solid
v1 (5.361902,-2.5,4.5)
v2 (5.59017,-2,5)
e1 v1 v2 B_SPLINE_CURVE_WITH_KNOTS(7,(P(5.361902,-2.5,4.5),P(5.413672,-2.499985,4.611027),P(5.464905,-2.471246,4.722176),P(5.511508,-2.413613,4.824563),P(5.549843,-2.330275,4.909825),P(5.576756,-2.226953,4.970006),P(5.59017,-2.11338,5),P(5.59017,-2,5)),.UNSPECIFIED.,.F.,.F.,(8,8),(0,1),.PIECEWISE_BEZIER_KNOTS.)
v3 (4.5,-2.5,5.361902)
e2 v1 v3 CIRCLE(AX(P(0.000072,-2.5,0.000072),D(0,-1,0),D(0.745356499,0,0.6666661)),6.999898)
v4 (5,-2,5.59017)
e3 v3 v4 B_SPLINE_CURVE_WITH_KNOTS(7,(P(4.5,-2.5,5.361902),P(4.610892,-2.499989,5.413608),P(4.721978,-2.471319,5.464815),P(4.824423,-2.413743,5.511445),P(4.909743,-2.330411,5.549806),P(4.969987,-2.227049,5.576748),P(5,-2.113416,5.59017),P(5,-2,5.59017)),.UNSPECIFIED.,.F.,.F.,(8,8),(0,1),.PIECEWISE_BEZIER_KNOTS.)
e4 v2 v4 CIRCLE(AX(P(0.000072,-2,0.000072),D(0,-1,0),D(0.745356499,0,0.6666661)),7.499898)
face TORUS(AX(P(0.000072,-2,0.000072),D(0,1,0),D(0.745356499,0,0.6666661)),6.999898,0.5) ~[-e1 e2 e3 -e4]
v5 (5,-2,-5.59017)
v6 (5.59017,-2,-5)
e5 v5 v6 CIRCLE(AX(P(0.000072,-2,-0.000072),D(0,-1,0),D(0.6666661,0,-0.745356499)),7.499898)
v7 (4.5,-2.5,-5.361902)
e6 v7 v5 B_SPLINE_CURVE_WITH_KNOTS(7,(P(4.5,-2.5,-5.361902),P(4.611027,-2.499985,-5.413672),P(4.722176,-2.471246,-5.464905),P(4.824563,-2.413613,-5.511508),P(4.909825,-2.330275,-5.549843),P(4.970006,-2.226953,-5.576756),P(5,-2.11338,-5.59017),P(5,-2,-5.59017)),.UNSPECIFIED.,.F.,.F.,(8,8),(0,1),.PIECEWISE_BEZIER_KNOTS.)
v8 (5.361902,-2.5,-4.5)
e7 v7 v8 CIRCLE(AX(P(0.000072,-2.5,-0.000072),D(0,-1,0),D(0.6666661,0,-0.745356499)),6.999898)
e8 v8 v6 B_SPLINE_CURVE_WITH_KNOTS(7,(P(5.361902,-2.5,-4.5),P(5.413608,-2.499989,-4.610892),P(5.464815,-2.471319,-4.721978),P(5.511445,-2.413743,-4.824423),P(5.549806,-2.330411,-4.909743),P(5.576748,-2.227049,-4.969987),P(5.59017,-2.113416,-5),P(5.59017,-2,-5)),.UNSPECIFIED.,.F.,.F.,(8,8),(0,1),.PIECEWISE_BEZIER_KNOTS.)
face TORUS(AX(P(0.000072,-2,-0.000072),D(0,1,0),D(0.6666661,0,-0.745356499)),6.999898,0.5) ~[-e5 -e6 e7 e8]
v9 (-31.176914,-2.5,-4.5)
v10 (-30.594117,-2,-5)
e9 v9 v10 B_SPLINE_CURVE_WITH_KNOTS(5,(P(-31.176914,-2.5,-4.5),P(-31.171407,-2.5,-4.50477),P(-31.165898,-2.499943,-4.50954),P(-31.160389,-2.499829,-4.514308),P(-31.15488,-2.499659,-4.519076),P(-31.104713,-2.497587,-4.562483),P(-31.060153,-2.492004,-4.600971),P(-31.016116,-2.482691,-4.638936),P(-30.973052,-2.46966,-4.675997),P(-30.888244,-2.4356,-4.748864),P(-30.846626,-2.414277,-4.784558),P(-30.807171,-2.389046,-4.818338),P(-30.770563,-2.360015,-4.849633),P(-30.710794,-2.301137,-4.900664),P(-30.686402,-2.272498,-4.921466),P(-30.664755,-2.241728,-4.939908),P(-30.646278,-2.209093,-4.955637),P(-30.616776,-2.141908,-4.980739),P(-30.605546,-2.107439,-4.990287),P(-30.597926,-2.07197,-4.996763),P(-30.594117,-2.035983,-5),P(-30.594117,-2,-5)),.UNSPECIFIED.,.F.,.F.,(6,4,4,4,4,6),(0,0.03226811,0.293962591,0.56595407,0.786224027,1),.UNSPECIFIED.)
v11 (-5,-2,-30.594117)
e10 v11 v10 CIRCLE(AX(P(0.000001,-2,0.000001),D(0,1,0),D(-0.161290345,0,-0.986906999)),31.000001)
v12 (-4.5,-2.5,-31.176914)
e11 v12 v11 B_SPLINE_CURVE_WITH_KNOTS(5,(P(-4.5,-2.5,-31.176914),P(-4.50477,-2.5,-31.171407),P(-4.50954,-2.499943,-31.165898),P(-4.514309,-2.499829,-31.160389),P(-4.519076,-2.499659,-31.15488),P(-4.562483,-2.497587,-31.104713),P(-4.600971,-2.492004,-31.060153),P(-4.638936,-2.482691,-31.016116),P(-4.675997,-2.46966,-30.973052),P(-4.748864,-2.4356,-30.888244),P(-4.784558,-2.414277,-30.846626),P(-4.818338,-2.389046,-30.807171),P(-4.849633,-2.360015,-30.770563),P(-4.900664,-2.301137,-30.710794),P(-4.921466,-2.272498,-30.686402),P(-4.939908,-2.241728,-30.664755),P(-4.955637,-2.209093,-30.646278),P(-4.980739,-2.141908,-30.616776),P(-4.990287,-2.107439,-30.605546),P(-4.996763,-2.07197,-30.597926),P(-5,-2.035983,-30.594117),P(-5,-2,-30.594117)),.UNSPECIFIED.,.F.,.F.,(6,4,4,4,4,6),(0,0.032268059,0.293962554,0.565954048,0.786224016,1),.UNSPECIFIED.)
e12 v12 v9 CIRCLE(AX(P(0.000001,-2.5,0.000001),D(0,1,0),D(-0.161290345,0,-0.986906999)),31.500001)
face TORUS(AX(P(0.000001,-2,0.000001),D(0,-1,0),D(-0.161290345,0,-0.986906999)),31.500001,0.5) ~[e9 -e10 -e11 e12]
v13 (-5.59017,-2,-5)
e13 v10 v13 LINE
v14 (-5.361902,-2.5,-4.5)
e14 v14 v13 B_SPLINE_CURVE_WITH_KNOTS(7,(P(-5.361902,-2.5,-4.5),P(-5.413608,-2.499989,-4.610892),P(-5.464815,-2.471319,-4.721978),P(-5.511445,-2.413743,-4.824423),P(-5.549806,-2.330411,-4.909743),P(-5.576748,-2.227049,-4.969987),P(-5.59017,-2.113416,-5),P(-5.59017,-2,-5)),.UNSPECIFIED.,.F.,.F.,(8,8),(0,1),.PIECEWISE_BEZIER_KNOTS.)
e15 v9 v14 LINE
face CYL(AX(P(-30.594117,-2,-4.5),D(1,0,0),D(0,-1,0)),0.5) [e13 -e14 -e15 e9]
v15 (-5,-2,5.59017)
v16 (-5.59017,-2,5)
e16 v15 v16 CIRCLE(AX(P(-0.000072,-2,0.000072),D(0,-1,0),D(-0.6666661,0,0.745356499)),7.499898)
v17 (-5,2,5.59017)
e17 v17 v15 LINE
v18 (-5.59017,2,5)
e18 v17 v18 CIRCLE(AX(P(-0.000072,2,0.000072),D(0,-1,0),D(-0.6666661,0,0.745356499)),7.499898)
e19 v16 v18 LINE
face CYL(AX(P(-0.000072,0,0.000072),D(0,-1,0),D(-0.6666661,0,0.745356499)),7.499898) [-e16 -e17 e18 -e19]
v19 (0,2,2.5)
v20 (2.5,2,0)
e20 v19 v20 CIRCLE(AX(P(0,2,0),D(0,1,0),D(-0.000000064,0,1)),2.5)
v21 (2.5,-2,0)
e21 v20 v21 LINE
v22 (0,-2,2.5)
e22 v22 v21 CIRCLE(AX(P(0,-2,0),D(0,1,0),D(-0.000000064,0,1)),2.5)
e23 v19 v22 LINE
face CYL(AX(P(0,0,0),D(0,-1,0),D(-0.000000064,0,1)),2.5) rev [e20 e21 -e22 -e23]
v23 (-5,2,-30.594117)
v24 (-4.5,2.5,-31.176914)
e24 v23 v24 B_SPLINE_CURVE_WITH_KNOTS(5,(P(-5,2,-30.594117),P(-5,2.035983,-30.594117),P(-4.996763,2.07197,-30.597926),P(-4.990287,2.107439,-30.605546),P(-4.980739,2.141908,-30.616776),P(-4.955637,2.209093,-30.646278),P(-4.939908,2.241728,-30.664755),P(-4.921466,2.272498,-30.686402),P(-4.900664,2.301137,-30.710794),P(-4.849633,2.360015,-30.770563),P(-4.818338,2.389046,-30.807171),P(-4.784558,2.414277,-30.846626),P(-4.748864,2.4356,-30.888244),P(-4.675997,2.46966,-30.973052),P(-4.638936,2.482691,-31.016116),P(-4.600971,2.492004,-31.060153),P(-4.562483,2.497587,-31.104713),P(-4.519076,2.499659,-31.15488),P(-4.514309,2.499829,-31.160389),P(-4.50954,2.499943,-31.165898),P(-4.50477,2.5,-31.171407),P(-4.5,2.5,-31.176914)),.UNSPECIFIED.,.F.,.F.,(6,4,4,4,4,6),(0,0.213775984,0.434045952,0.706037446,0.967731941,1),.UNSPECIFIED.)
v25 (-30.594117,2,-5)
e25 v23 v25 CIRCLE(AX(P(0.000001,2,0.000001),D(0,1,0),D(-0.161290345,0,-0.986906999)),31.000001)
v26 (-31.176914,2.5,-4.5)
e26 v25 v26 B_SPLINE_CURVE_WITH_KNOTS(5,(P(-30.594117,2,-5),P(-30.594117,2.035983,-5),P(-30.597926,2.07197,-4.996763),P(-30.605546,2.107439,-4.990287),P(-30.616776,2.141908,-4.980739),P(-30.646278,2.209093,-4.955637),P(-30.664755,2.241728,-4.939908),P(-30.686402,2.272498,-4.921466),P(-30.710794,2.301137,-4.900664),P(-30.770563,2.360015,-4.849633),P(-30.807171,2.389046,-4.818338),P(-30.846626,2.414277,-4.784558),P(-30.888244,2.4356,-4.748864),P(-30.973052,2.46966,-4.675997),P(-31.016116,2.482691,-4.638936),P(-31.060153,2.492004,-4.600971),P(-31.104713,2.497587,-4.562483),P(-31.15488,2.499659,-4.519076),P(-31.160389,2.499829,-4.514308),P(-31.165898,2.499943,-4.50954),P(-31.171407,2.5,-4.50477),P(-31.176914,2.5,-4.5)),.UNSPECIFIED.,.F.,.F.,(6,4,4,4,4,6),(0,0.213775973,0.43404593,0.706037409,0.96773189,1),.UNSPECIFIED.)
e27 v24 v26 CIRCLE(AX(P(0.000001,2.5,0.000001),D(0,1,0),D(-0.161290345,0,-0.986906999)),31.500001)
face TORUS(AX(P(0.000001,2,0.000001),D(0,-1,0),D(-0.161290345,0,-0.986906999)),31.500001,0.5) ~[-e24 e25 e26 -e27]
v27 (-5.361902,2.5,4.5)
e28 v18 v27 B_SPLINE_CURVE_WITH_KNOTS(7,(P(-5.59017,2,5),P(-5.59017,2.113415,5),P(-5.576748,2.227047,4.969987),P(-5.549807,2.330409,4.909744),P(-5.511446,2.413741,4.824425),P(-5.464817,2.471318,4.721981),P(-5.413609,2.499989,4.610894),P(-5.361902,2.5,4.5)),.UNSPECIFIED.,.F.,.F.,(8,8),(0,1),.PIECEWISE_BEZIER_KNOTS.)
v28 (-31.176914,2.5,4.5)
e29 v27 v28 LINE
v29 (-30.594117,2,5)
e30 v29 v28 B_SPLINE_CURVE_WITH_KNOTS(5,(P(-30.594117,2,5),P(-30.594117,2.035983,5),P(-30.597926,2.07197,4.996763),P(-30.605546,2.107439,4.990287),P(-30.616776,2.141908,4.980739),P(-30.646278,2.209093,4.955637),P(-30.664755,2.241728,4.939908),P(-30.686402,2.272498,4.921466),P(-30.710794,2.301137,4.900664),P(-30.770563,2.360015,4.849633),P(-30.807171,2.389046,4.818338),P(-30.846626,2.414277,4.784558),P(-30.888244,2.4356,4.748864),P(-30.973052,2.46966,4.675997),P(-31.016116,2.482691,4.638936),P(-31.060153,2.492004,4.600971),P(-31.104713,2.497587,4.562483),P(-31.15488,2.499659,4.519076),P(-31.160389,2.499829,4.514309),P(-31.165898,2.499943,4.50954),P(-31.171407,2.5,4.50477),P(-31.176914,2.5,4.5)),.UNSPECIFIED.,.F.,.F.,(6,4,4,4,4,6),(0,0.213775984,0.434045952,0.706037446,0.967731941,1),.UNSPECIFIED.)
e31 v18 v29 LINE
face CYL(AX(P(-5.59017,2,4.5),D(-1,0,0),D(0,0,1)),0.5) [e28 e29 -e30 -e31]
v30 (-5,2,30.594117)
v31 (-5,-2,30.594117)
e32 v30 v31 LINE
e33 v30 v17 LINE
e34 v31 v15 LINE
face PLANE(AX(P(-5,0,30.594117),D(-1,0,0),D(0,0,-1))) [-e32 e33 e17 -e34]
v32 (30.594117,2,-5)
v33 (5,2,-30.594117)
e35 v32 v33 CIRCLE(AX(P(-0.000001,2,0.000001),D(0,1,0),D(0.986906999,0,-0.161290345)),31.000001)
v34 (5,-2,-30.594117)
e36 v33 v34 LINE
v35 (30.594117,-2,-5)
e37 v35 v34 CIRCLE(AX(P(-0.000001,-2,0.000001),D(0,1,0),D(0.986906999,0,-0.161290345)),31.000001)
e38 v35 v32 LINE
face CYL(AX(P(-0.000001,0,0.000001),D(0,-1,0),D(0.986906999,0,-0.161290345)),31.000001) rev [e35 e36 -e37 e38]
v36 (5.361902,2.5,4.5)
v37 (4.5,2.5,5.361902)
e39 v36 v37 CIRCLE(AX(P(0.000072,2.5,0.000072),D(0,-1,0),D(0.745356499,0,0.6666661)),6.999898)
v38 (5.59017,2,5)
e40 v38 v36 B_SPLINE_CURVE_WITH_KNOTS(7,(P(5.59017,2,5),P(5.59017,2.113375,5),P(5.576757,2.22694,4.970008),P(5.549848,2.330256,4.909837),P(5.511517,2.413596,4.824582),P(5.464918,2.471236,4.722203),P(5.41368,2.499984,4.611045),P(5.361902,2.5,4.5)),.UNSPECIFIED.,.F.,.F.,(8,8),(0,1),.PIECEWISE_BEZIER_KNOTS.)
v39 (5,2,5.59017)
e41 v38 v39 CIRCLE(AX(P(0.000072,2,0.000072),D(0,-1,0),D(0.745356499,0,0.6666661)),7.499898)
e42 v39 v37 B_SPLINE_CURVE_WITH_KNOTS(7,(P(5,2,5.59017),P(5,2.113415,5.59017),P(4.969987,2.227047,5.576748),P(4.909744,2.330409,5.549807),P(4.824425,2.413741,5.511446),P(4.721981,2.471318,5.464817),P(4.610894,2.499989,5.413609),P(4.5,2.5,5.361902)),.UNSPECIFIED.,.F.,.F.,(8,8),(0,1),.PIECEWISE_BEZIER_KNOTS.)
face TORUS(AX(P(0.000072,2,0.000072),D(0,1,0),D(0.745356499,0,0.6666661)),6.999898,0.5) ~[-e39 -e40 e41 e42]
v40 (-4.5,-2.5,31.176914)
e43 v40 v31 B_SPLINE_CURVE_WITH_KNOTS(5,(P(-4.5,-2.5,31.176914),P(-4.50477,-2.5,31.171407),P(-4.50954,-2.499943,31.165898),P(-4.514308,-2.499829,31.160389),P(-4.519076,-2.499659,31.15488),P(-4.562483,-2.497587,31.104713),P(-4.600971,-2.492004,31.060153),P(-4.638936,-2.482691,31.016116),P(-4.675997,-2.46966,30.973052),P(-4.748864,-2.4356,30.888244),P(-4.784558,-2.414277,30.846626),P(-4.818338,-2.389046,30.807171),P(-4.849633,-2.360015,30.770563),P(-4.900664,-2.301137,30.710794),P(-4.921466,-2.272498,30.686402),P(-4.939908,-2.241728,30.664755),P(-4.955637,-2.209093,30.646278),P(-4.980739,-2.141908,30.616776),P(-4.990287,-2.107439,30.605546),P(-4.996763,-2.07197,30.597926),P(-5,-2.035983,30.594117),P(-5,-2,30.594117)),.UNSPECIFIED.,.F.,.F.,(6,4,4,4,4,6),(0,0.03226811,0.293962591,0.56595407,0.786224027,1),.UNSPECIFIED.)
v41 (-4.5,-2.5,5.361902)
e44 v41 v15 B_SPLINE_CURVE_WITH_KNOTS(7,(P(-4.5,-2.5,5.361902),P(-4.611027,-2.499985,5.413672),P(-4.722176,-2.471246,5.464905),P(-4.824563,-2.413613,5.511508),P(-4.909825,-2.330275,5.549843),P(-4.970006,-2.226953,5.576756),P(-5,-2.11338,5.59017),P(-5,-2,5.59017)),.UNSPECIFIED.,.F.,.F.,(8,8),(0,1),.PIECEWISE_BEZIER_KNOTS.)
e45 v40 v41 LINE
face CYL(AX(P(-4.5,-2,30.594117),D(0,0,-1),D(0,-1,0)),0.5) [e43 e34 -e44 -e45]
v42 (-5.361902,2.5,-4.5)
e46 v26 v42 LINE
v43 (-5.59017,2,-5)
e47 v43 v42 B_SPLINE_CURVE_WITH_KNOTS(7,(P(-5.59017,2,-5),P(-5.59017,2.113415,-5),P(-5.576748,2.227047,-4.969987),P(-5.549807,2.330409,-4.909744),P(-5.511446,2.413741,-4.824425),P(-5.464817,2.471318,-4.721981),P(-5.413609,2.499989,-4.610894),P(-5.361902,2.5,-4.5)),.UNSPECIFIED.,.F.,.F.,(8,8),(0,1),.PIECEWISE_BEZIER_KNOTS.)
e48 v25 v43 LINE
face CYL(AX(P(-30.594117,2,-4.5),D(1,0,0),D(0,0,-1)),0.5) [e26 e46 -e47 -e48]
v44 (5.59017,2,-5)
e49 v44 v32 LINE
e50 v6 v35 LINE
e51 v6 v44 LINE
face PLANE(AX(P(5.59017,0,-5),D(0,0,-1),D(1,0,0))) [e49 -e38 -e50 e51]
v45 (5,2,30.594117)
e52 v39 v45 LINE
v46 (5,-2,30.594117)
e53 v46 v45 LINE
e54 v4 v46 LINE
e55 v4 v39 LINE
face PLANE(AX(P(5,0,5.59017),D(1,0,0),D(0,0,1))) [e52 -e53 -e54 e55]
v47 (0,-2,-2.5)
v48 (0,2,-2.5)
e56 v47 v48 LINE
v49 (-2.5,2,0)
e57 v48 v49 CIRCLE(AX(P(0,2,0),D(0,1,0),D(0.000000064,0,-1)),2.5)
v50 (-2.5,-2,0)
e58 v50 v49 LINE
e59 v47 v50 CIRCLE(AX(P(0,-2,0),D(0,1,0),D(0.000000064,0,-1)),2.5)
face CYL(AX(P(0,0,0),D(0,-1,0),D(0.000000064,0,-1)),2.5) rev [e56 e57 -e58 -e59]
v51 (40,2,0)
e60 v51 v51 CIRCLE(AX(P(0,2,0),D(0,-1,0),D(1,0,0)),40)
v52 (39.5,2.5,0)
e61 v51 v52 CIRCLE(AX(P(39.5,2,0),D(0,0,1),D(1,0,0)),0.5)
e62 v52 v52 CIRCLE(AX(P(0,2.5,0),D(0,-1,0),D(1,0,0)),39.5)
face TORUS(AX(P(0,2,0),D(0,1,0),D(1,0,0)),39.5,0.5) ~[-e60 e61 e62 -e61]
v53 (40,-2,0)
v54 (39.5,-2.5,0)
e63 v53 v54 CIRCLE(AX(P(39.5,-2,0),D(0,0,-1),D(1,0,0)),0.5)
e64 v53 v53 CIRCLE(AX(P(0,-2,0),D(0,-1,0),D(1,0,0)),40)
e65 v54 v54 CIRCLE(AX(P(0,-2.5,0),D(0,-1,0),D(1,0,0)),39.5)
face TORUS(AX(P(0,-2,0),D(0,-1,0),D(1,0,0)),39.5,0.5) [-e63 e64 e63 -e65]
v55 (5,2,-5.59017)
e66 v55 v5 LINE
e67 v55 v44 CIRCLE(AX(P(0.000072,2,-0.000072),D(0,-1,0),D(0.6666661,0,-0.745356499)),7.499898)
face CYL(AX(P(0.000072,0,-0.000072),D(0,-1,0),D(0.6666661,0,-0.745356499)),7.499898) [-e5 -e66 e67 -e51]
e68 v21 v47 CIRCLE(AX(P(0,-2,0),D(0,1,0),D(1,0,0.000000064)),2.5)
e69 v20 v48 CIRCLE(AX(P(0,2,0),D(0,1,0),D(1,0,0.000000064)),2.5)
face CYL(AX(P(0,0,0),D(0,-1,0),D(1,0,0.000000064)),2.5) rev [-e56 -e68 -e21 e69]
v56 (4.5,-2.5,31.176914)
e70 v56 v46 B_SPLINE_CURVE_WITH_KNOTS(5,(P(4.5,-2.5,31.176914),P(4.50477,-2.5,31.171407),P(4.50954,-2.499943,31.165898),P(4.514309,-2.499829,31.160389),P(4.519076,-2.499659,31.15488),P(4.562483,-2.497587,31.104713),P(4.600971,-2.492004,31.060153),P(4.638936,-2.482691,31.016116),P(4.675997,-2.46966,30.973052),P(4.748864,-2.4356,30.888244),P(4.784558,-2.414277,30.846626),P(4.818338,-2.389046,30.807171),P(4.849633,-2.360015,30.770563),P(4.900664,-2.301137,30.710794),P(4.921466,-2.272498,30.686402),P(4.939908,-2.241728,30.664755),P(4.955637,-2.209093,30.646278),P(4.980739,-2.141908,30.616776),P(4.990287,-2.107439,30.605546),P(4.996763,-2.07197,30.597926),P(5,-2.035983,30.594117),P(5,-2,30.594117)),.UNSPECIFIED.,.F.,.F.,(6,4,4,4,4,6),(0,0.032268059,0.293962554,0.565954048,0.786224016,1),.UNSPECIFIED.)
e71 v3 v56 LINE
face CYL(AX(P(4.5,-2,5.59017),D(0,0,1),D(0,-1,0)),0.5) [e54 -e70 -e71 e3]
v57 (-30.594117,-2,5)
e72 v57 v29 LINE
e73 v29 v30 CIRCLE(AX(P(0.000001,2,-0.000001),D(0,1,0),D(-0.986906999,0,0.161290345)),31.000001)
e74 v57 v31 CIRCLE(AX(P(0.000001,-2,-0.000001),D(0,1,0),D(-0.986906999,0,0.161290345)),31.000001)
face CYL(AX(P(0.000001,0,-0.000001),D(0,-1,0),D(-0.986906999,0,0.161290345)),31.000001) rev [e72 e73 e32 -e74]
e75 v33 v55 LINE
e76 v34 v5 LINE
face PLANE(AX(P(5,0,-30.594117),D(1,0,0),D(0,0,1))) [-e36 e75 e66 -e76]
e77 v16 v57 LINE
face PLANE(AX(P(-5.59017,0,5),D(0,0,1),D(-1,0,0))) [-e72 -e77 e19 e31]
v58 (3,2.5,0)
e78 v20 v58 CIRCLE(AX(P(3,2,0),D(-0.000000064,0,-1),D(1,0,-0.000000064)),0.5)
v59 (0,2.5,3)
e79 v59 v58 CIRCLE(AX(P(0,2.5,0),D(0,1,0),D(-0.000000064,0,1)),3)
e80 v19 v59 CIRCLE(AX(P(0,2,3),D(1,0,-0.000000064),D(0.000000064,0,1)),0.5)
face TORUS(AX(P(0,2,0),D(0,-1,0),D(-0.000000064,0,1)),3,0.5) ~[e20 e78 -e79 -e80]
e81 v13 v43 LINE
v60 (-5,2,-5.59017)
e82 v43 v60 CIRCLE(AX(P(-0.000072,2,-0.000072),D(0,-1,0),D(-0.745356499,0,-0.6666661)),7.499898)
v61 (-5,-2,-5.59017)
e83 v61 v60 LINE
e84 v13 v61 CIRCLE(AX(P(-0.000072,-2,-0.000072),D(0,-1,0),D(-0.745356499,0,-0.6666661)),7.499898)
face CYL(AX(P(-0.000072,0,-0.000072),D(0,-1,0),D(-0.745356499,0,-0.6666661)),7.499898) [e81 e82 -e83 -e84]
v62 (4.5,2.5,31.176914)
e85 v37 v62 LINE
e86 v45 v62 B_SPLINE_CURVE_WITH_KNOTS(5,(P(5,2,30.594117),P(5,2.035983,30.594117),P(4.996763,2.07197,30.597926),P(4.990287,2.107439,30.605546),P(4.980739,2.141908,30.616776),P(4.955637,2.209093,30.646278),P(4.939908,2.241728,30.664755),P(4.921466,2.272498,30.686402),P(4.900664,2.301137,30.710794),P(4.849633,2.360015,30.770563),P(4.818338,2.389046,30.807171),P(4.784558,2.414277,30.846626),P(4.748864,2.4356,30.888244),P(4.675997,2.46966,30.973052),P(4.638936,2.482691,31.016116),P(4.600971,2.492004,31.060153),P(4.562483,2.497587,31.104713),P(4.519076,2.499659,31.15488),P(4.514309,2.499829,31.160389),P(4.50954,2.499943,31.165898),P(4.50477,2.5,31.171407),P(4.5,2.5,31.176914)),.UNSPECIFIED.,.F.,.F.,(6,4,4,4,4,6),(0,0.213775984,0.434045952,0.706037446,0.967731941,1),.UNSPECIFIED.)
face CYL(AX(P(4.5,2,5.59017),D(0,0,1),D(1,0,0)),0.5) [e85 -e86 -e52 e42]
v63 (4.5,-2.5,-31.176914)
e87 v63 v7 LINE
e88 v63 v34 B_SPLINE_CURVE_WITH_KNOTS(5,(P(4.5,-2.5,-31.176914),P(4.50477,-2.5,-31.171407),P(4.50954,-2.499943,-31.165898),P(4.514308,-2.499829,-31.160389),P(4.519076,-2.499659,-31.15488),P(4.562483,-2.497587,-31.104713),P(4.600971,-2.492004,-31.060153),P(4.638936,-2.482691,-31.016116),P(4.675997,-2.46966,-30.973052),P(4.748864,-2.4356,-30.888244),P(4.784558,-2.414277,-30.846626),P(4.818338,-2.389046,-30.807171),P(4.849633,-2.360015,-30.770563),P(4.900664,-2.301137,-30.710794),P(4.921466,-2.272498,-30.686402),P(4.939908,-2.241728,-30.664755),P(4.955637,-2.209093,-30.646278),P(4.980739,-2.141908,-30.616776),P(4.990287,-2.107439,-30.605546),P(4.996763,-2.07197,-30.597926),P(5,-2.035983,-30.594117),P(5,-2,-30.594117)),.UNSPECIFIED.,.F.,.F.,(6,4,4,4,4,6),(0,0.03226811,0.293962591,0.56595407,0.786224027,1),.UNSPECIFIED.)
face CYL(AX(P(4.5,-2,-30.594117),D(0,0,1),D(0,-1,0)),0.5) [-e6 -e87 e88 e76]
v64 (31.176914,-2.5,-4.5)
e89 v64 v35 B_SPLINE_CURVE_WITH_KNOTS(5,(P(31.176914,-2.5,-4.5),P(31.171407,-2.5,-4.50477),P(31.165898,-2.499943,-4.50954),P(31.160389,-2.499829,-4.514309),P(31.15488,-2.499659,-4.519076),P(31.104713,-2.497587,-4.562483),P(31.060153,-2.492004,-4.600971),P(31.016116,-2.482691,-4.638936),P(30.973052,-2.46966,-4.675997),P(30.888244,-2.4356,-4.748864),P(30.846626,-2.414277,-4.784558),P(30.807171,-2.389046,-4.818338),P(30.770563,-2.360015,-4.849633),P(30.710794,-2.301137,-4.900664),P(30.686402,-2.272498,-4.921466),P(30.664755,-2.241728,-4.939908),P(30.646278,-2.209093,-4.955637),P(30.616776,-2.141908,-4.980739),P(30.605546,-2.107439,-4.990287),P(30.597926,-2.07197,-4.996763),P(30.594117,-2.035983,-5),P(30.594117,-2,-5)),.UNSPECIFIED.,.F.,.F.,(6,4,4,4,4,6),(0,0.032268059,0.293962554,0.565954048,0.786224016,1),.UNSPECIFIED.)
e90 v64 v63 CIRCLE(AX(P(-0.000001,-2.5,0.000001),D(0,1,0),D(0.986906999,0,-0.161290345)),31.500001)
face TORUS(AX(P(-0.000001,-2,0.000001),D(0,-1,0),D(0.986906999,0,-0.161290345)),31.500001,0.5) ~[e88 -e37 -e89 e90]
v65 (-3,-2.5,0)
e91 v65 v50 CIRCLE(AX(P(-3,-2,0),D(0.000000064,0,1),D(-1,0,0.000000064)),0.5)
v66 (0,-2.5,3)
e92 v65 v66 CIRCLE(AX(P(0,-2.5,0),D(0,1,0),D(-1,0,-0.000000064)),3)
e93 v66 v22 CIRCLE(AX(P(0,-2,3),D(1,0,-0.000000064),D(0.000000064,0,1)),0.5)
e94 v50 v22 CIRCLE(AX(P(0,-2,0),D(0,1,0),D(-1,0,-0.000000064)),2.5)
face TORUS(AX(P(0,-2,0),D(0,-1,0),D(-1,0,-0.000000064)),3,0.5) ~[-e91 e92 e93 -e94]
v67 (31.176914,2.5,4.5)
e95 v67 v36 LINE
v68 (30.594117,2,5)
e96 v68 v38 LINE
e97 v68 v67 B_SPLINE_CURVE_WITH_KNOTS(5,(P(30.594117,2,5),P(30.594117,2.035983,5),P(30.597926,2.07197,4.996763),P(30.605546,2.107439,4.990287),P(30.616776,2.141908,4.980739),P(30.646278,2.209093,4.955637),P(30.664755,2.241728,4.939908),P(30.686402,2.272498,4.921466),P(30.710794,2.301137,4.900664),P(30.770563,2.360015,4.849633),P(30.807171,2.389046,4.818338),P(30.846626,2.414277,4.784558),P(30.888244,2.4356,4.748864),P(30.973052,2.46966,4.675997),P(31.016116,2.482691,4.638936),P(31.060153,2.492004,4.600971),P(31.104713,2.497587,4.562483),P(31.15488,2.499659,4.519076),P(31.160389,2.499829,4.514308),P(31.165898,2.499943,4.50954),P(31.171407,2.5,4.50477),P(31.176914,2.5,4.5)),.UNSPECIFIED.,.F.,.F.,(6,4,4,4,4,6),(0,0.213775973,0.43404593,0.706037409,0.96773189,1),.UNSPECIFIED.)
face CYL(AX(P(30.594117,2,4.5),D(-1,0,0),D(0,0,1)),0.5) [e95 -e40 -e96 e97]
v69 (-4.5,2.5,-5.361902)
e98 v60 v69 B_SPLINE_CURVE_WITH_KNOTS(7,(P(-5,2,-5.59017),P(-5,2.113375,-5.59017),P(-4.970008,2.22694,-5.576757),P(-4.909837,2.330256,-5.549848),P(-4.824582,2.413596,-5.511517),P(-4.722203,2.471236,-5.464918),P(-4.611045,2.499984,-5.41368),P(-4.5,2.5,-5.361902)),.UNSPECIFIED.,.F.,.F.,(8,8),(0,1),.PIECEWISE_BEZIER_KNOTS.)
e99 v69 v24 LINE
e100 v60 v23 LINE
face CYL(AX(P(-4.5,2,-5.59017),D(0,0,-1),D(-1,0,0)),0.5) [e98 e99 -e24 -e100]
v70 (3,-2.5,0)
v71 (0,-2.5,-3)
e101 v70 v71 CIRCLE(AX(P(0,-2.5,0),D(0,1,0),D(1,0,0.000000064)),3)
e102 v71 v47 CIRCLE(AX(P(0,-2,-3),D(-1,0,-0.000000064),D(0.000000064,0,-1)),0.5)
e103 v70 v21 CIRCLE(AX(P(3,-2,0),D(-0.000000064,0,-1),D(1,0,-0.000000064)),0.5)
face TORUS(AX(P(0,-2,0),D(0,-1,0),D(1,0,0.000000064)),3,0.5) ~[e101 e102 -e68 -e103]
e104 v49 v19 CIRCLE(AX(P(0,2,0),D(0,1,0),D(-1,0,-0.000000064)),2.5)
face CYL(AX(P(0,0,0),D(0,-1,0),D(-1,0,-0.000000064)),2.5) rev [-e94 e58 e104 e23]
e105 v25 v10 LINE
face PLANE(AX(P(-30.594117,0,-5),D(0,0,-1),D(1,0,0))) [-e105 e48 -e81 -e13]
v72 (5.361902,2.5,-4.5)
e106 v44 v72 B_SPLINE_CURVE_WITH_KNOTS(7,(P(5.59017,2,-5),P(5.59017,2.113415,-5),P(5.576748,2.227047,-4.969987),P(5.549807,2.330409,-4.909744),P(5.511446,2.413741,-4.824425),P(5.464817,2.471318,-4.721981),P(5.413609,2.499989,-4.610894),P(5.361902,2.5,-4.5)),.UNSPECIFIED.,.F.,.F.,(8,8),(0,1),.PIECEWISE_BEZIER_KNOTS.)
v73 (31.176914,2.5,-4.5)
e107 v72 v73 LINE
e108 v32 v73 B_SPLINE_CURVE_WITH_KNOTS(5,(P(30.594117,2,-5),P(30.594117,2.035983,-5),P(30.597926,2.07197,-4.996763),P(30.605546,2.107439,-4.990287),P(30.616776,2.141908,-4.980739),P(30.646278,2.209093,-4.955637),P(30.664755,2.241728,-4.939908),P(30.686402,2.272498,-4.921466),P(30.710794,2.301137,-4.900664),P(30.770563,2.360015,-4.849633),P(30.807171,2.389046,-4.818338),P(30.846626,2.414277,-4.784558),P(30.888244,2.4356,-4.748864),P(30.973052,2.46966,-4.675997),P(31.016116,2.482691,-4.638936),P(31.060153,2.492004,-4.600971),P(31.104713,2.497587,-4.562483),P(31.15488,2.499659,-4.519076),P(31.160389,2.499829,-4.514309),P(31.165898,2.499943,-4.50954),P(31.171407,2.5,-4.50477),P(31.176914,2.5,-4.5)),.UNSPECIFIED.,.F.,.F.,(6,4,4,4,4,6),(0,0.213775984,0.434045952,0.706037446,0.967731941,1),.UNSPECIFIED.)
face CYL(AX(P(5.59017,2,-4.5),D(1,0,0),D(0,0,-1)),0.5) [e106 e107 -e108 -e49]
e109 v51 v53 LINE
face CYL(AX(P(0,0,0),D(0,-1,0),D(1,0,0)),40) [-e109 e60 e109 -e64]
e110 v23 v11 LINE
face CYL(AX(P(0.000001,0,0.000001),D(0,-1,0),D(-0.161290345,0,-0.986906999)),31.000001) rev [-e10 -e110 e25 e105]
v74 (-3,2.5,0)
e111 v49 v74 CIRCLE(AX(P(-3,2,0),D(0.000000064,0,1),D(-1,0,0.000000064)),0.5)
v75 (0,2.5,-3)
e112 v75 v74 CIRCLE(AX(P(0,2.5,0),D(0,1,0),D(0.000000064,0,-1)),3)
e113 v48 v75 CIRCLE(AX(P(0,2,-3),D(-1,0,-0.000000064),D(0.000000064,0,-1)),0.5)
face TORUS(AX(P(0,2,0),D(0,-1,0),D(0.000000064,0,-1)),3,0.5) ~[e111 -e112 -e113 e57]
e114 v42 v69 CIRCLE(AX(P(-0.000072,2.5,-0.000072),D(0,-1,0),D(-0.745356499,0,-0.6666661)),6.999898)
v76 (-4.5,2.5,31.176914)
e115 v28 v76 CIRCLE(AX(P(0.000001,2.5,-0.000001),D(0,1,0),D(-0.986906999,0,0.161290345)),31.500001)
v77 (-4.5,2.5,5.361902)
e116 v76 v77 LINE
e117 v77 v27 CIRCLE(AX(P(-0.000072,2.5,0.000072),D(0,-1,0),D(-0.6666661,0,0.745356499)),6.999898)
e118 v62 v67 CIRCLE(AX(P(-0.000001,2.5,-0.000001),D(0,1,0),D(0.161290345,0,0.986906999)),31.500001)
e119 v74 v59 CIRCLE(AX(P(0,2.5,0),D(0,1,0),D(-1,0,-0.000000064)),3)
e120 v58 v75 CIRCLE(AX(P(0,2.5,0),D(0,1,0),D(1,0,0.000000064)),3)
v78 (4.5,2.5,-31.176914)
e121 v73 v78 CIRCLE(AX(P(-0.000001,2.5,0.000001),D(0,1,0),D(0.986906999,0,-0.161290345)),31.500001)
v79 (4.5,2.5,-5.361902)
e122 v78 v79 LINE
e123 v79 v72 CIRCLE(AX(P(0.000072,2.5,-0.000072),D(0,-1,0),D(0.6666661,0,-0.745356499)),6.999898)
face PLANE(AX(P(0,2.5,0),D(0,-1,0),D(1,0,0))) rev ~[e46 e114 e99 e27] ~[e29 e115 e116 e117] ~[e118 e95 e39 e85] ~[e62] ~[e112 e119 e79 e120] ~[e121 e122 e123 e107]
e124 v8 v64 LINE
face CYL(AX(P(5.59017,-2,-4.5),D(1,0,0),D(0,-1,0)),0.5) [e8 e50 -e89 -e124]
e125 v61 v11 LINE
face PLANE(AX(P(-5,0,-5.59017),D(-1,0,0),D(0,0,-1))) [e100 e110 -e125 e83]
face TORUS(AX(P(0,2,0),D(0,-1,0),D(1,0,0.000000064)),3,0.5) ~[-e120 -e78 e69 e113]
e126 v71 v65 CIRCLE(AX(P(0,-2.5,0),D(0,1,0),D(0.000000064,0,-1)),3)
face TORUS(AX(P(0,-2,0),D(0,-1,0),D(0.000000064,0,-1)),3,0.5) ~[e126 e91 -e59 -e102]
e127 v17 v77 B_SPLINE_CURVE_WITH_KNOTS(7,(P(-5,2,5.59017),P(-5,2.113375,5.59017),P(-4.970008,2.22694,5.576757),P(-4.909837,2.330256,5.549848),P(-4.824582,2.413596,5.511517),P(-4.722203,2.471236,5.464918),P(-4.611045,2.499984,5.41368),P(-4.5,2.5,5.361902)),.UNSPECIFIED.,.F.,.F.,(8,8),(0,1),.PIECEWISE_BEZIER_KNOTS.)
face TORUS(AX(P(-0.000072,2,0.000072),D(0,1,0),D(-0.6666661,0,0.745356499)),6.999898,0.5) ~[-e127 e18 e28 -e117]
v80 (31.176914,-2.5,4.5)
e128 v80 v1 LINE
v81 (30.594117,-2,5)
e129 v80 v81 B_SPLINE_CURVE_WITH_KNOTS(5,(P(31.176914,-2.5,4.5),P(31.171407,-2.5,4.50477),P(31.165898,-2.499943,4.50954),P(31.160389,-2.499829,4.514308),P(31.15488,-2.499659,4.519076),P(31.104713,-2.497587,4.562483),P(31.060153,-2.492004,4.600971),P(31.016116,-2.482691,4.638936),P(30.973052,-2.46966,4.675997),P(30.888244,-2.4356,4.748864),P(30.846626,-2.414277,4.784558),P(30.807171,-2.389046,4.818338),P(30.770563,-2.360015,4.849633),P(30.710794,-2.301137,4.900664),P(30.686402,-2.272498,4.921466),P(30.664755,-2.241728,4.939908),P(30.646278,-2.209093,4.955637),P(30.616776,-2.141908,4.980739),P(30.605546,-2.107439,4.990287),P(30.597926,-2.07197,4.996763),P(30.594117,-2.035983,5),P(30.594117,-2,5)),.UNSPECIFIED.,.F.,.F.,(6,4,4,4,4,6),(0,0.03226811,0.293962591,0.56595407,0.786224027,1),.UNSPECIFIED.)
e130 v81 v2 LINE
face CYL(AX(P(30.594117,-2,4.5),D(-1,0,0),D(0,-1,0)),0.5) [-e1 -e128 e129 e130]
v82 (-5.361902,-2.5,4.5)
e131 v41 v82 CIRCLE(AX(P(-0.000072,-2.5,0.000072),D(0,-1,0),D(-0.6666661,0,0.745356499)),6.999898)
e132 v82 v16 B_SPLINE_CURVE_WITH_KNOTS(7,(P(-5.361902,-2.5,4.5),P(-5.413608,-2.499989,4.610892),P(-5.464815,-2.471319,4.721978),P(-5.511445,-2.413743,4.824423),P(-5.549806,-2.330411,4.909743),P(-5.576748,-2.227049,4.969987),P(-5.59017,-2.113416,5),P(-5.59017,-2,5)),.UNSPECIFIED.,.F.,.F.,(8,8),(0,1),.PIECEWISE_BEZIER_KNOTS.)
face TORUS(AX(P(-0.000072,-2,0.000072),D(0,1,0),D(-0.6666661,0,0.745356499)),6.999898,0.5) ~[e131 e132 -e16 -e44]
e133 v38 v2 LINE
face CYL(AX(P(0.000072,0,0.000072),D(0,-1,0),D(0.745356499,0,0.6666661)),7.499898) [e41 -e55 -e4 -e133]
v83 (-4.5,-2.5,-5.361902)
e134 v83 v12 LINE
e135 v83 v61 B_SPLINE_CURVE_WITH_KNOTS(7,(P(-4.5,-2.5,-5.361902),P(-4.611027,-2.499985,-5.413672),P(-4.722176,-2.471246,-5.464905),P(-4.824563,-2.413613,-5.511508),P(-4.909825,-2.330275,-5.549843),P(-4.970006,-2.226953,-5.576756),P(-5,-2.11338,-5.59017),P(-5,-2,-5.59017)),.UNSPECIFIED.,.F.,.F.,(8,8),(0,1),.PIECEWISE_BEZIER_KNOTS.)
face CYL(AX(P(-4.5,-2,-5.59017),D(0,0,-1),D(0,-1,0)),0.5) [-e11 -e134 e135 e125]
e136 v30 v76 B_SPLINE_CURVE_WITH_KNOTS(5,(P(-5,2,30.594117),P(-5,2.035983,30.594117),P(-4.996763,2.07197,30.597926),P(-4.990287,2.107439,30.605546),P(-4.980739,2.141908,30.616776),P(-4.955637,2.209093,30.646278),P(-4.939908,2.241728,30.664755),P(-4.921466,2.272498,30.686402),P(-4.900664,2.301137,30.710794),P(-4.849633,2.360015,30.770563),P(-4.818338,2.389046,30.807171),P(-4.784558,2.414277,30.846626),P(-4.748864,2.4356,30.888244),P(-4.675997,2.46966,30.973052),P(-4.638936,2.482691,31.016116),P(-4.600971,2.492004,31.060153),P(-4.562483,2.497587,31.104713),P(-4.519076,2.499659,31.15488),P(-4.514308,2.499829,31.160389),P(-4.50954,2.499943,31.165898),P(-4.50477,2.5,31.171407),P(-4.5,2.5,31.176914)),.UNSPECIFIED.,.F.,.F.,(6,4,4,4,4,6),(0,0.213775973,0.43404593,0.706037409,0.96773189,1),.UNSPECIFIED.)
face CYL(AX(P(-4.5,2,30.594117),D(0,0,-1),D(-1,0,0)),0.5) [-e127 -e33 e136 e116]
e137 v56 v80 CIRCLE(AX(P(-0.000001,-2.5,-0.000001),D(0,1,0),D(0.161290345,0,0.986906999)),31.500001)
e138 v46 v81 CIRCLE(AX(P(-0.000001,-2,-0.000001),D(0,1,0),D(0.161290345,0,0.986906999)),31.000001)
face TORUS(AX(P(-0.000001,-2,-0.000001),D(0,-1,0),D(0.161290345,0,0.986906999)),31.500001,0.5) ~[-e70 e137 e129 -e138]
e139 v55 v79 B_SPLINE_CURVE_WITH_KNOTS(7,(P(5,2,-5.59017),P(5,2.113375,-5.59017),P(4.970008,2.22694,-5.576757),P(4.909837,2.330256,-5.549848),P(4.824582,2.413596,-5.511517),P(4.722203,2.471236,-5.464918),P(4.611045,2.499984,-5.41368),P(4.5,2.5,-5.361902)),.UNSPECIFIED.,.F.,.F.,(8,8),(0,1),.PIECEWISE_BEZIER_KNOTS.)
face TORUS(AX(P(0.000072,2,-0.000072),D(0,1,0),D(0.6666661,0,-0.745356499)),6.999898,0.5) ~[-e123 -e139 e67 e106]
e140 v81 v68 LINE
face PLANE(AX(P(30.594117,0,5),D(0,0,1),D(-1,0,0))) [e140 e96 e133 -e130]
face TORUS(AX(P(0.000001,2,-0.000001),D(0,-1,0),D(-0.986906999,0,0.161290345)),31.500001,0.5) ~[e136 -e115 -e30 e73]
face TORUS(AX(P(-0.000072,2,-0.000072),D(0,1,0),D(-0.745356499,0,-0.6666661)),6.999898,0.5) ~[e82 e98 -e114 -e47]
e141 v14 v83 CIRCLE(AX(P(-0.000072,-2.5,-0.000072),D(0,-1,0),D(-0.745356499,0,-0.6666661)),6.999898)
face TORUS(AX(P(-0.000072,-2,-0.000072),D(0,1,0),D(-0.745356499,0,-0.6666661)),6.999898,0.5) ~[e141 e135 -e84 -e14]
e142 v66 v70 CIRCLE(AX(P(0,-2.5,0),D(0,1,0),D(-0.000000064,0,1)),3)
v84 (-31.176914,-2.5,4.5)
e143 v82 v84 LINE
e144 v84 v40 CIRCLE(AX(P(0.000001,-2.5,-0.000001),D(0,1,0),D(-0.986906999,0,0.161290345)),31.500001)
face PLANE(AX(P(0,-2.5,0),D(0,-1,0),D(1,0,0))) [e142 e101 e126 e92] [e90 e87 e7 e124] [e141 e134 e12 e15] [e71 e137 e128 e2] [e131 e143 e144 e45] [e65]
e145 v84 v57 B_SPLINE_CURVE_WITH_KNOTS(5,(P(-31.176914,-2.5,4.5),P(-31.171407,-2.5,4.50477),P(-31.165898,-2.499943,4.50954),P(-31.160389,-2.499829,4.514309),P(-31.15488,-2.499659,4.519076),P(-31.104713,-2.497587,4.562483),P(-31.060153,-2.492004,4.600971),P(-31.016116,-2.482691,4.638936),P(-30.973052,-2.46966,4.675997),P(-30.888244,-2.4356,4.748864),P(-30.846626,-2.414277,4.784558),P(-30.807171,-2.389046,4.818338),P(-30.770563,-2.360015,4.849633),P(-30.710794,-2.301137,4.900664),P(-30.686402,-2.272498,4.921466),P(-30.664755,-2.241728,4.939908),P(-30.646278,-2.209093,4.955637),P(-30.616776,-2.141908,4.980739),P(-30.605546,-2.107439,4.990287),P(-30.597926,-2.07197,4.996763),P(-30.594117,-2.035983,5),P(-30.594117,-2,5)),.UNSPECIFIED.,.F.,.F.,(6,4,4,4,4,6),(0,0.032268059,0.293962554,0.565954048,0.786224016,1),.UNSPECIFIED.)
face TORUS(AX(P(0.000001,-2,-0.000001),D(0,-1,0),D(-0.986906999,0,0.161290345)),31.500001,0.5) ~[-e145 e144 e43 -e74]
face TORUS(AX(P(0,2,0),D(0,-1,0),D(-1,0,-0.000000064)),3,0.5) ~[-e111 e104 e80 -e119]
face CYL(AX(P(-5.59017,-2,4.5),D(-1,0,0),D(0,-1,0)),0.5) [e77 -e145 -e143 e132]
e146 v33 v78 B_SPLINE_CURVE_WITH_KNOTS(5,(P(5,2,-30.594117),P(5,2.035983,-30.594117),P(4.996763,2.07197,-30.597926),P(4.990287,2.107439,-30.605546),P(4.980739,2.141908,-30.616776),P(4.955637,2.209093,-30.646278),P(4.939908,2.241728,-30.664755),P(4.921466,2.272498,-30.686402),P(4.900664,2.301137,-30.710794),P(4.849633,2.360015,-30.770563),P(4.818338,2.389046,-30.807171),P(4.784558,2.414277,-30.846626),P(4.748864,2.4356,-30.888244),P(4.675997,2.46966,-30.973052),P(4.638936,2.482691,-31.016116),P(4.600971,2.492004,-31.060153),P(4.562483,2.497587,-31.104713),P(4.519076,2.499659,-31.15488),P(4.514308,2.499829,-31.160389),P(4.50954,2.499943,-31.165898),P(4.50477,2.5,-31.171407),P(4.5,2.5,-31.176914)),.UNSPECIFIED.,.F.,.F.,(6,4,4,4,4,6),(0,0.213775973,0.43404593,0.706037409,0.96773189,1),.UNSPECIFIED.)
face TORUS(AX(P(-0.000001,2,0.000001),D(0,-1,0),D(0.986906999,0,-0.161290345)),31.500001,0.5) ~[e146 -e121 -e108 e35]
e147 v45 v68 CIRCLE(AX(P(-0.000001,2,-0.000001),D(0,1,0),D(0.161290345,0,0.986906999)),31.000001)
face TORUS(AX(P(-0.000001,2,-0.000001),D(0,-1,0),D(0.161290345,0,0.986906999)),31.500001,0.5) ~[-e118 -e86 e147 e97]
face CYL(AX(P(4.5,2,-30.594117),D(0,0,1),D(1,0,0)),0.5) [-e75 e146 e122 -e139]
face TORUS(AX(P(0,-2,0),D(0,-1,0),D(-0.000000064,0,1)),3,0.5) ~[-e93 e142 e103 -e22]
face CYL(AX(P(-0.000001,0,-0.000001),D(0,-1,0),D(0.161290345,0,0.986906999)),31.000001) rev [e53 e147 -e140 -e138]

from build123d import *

# Parameters (mm, degrees)
F0_R     = 40
F1_DEPTH = 2.5
F2_R     = 0.5


with BuildPart() as f1:
    # F0 (on Front) → F1 (new body, symmetric)
    with BuildSketch(Plane.XZ):
        Circle(F0_R)
        with BuildLine():
            ThreePointArc((-5, -30.594117), (-21.92031, -21.92031), (-30.594117, -5))
            Line((-30.594117, -5), (-5.59017, -5))
            ThreePointArc((-5.59017, -5), (-5.303301, -5.303301), (-5, -5.59017))
            Line((-5, -5.59017), (-5, -30.594117))
        make_face(mode=Mode.SUBTRACT)
        with BuildLine():
            Line((5, -30.594117), (5, -5.59017))
            ThreePointArc((5, -5.59017), (5.303301, -5.303301), (5.59017, -5))
            Line((5.59017, -5), (30.594117, -5))
            ThreePointArc((30.594117, -5), (21.92031, -21.92031), (5, -30.594117))
        make_face(mode=Mode.SUBTRACT)
        with BuildLine():
            Line((-5, 30.594117), (-5, 5.59017))
            ThreePointArc((-5, 5.59017), (-5.303301, 5.303301), (-5.59017, 5))
            Line((-5.59017, 5), (-30.594117, 5))
            ThreePointArc((-30.594117, 5), (-21.92031, 21.92031), (-5, 30.594117))
        make_face(mode=Mode.SUBTRACT)
        with BuildLine():
            ThreePointArc((0, 2.5), (1.767767, 1.767767), (2.5, 0))
            ThreePointArc((2.5, 0), (1.767767, -1.767767), (0, -2.5))
            ThreePointArc((0, -2.5), (-1.767767, -1.767767), (-2.5, 0))
            ThreePointArc((-2.5, 0), (-1.767767, 1.767767), (0, 2.5))
        make_face(mode=Mode.SUBTRACT)
        with BuildLine():
            ThreePointArc((5.59017, 5), (5.303301, 5.303301), (5, 5.59017))
            Line((5, 5.59017), (5, 30.594117))
            ThreePointArc((5, 30.594117), (21.92031, 21.92031), (30.594117, 5))
            Line((30.594117, 5), (5.59017, 5))
        make_face(mode=Mode.SUBTRACT)
    extrude(amount=F1_DEPTH, both=True)

    # F2
    f2_edges = [f1.edges().sort_by_distance(p)[0] for p in [
        (-40, 2.5, 0),
        (-5, 2.5, -18.092144),
        (-21.92031, 2.5, -21.92031),
        (-18.092144, 2.5, -5),
        (-5.303301, 2.5, -5.303301),
        (5, 2.5, -18.092144),
        (5.303301, 2.5, -5.303301),
        (18.092144, 2.5, -5),
        (21.92031, 2.5, -21.92031),
        (-5, 2.5, 18.092144),
        (-5.303301, 2.5, 5.303301),
        (-18.092144, 2.5, 5),
        (-21.92031, 2.5, 21.92031),
        (-1.767767, 2.5, -1.767767),
        (-1.767767, 2.5, 1.767767),
        (1.767767, 2.5, 1.767767),
        (1.767767, 2.5, -1.767767),
        (18.092144, 2.5, 5),
        (5.303301, 2.5, 5.303301),
        (5, 2.5, 18.092144),
        (21.92031, 2.5, 21.92031),
        (-40, -2.5, 0),
        (-5, -2.5, -18.092144),
        (-21.92031, -2.5, -21.92031),
        (-18.092144, -2.5, -5),
        (-5.303301, -2.5, -5.303301),
        (5, -2.5, -18.092144),
        (5.303301, -2.5, -5.303301),
        (18.092144, -2.5, -5),
        (21.92031, -2.5, -21.92031),
        (-5, -2.5, 18.092144),
        (-5.303301, -2.5, 5.303301),
        (-18.092144, -2.5, 5),
        (-21.92031, -2.5, 21.92031),
        (-1.767767, -2.5, -1.767767),
        (-1.767767, -2.5, 1.767767),
        (1.767767, -2.5, 1.767767),
        (1.767767, -2.5, -1.767767),
        (18.092144, -2.5, 5),
        (5.303301, -2.5, 5.303301),
        (5, -2.5, 18.092144),
        (21.92031, -2.5, 21.92031),
    ]]
    fillet(f2_edges, radius=F2_R)


solid = f1.part
